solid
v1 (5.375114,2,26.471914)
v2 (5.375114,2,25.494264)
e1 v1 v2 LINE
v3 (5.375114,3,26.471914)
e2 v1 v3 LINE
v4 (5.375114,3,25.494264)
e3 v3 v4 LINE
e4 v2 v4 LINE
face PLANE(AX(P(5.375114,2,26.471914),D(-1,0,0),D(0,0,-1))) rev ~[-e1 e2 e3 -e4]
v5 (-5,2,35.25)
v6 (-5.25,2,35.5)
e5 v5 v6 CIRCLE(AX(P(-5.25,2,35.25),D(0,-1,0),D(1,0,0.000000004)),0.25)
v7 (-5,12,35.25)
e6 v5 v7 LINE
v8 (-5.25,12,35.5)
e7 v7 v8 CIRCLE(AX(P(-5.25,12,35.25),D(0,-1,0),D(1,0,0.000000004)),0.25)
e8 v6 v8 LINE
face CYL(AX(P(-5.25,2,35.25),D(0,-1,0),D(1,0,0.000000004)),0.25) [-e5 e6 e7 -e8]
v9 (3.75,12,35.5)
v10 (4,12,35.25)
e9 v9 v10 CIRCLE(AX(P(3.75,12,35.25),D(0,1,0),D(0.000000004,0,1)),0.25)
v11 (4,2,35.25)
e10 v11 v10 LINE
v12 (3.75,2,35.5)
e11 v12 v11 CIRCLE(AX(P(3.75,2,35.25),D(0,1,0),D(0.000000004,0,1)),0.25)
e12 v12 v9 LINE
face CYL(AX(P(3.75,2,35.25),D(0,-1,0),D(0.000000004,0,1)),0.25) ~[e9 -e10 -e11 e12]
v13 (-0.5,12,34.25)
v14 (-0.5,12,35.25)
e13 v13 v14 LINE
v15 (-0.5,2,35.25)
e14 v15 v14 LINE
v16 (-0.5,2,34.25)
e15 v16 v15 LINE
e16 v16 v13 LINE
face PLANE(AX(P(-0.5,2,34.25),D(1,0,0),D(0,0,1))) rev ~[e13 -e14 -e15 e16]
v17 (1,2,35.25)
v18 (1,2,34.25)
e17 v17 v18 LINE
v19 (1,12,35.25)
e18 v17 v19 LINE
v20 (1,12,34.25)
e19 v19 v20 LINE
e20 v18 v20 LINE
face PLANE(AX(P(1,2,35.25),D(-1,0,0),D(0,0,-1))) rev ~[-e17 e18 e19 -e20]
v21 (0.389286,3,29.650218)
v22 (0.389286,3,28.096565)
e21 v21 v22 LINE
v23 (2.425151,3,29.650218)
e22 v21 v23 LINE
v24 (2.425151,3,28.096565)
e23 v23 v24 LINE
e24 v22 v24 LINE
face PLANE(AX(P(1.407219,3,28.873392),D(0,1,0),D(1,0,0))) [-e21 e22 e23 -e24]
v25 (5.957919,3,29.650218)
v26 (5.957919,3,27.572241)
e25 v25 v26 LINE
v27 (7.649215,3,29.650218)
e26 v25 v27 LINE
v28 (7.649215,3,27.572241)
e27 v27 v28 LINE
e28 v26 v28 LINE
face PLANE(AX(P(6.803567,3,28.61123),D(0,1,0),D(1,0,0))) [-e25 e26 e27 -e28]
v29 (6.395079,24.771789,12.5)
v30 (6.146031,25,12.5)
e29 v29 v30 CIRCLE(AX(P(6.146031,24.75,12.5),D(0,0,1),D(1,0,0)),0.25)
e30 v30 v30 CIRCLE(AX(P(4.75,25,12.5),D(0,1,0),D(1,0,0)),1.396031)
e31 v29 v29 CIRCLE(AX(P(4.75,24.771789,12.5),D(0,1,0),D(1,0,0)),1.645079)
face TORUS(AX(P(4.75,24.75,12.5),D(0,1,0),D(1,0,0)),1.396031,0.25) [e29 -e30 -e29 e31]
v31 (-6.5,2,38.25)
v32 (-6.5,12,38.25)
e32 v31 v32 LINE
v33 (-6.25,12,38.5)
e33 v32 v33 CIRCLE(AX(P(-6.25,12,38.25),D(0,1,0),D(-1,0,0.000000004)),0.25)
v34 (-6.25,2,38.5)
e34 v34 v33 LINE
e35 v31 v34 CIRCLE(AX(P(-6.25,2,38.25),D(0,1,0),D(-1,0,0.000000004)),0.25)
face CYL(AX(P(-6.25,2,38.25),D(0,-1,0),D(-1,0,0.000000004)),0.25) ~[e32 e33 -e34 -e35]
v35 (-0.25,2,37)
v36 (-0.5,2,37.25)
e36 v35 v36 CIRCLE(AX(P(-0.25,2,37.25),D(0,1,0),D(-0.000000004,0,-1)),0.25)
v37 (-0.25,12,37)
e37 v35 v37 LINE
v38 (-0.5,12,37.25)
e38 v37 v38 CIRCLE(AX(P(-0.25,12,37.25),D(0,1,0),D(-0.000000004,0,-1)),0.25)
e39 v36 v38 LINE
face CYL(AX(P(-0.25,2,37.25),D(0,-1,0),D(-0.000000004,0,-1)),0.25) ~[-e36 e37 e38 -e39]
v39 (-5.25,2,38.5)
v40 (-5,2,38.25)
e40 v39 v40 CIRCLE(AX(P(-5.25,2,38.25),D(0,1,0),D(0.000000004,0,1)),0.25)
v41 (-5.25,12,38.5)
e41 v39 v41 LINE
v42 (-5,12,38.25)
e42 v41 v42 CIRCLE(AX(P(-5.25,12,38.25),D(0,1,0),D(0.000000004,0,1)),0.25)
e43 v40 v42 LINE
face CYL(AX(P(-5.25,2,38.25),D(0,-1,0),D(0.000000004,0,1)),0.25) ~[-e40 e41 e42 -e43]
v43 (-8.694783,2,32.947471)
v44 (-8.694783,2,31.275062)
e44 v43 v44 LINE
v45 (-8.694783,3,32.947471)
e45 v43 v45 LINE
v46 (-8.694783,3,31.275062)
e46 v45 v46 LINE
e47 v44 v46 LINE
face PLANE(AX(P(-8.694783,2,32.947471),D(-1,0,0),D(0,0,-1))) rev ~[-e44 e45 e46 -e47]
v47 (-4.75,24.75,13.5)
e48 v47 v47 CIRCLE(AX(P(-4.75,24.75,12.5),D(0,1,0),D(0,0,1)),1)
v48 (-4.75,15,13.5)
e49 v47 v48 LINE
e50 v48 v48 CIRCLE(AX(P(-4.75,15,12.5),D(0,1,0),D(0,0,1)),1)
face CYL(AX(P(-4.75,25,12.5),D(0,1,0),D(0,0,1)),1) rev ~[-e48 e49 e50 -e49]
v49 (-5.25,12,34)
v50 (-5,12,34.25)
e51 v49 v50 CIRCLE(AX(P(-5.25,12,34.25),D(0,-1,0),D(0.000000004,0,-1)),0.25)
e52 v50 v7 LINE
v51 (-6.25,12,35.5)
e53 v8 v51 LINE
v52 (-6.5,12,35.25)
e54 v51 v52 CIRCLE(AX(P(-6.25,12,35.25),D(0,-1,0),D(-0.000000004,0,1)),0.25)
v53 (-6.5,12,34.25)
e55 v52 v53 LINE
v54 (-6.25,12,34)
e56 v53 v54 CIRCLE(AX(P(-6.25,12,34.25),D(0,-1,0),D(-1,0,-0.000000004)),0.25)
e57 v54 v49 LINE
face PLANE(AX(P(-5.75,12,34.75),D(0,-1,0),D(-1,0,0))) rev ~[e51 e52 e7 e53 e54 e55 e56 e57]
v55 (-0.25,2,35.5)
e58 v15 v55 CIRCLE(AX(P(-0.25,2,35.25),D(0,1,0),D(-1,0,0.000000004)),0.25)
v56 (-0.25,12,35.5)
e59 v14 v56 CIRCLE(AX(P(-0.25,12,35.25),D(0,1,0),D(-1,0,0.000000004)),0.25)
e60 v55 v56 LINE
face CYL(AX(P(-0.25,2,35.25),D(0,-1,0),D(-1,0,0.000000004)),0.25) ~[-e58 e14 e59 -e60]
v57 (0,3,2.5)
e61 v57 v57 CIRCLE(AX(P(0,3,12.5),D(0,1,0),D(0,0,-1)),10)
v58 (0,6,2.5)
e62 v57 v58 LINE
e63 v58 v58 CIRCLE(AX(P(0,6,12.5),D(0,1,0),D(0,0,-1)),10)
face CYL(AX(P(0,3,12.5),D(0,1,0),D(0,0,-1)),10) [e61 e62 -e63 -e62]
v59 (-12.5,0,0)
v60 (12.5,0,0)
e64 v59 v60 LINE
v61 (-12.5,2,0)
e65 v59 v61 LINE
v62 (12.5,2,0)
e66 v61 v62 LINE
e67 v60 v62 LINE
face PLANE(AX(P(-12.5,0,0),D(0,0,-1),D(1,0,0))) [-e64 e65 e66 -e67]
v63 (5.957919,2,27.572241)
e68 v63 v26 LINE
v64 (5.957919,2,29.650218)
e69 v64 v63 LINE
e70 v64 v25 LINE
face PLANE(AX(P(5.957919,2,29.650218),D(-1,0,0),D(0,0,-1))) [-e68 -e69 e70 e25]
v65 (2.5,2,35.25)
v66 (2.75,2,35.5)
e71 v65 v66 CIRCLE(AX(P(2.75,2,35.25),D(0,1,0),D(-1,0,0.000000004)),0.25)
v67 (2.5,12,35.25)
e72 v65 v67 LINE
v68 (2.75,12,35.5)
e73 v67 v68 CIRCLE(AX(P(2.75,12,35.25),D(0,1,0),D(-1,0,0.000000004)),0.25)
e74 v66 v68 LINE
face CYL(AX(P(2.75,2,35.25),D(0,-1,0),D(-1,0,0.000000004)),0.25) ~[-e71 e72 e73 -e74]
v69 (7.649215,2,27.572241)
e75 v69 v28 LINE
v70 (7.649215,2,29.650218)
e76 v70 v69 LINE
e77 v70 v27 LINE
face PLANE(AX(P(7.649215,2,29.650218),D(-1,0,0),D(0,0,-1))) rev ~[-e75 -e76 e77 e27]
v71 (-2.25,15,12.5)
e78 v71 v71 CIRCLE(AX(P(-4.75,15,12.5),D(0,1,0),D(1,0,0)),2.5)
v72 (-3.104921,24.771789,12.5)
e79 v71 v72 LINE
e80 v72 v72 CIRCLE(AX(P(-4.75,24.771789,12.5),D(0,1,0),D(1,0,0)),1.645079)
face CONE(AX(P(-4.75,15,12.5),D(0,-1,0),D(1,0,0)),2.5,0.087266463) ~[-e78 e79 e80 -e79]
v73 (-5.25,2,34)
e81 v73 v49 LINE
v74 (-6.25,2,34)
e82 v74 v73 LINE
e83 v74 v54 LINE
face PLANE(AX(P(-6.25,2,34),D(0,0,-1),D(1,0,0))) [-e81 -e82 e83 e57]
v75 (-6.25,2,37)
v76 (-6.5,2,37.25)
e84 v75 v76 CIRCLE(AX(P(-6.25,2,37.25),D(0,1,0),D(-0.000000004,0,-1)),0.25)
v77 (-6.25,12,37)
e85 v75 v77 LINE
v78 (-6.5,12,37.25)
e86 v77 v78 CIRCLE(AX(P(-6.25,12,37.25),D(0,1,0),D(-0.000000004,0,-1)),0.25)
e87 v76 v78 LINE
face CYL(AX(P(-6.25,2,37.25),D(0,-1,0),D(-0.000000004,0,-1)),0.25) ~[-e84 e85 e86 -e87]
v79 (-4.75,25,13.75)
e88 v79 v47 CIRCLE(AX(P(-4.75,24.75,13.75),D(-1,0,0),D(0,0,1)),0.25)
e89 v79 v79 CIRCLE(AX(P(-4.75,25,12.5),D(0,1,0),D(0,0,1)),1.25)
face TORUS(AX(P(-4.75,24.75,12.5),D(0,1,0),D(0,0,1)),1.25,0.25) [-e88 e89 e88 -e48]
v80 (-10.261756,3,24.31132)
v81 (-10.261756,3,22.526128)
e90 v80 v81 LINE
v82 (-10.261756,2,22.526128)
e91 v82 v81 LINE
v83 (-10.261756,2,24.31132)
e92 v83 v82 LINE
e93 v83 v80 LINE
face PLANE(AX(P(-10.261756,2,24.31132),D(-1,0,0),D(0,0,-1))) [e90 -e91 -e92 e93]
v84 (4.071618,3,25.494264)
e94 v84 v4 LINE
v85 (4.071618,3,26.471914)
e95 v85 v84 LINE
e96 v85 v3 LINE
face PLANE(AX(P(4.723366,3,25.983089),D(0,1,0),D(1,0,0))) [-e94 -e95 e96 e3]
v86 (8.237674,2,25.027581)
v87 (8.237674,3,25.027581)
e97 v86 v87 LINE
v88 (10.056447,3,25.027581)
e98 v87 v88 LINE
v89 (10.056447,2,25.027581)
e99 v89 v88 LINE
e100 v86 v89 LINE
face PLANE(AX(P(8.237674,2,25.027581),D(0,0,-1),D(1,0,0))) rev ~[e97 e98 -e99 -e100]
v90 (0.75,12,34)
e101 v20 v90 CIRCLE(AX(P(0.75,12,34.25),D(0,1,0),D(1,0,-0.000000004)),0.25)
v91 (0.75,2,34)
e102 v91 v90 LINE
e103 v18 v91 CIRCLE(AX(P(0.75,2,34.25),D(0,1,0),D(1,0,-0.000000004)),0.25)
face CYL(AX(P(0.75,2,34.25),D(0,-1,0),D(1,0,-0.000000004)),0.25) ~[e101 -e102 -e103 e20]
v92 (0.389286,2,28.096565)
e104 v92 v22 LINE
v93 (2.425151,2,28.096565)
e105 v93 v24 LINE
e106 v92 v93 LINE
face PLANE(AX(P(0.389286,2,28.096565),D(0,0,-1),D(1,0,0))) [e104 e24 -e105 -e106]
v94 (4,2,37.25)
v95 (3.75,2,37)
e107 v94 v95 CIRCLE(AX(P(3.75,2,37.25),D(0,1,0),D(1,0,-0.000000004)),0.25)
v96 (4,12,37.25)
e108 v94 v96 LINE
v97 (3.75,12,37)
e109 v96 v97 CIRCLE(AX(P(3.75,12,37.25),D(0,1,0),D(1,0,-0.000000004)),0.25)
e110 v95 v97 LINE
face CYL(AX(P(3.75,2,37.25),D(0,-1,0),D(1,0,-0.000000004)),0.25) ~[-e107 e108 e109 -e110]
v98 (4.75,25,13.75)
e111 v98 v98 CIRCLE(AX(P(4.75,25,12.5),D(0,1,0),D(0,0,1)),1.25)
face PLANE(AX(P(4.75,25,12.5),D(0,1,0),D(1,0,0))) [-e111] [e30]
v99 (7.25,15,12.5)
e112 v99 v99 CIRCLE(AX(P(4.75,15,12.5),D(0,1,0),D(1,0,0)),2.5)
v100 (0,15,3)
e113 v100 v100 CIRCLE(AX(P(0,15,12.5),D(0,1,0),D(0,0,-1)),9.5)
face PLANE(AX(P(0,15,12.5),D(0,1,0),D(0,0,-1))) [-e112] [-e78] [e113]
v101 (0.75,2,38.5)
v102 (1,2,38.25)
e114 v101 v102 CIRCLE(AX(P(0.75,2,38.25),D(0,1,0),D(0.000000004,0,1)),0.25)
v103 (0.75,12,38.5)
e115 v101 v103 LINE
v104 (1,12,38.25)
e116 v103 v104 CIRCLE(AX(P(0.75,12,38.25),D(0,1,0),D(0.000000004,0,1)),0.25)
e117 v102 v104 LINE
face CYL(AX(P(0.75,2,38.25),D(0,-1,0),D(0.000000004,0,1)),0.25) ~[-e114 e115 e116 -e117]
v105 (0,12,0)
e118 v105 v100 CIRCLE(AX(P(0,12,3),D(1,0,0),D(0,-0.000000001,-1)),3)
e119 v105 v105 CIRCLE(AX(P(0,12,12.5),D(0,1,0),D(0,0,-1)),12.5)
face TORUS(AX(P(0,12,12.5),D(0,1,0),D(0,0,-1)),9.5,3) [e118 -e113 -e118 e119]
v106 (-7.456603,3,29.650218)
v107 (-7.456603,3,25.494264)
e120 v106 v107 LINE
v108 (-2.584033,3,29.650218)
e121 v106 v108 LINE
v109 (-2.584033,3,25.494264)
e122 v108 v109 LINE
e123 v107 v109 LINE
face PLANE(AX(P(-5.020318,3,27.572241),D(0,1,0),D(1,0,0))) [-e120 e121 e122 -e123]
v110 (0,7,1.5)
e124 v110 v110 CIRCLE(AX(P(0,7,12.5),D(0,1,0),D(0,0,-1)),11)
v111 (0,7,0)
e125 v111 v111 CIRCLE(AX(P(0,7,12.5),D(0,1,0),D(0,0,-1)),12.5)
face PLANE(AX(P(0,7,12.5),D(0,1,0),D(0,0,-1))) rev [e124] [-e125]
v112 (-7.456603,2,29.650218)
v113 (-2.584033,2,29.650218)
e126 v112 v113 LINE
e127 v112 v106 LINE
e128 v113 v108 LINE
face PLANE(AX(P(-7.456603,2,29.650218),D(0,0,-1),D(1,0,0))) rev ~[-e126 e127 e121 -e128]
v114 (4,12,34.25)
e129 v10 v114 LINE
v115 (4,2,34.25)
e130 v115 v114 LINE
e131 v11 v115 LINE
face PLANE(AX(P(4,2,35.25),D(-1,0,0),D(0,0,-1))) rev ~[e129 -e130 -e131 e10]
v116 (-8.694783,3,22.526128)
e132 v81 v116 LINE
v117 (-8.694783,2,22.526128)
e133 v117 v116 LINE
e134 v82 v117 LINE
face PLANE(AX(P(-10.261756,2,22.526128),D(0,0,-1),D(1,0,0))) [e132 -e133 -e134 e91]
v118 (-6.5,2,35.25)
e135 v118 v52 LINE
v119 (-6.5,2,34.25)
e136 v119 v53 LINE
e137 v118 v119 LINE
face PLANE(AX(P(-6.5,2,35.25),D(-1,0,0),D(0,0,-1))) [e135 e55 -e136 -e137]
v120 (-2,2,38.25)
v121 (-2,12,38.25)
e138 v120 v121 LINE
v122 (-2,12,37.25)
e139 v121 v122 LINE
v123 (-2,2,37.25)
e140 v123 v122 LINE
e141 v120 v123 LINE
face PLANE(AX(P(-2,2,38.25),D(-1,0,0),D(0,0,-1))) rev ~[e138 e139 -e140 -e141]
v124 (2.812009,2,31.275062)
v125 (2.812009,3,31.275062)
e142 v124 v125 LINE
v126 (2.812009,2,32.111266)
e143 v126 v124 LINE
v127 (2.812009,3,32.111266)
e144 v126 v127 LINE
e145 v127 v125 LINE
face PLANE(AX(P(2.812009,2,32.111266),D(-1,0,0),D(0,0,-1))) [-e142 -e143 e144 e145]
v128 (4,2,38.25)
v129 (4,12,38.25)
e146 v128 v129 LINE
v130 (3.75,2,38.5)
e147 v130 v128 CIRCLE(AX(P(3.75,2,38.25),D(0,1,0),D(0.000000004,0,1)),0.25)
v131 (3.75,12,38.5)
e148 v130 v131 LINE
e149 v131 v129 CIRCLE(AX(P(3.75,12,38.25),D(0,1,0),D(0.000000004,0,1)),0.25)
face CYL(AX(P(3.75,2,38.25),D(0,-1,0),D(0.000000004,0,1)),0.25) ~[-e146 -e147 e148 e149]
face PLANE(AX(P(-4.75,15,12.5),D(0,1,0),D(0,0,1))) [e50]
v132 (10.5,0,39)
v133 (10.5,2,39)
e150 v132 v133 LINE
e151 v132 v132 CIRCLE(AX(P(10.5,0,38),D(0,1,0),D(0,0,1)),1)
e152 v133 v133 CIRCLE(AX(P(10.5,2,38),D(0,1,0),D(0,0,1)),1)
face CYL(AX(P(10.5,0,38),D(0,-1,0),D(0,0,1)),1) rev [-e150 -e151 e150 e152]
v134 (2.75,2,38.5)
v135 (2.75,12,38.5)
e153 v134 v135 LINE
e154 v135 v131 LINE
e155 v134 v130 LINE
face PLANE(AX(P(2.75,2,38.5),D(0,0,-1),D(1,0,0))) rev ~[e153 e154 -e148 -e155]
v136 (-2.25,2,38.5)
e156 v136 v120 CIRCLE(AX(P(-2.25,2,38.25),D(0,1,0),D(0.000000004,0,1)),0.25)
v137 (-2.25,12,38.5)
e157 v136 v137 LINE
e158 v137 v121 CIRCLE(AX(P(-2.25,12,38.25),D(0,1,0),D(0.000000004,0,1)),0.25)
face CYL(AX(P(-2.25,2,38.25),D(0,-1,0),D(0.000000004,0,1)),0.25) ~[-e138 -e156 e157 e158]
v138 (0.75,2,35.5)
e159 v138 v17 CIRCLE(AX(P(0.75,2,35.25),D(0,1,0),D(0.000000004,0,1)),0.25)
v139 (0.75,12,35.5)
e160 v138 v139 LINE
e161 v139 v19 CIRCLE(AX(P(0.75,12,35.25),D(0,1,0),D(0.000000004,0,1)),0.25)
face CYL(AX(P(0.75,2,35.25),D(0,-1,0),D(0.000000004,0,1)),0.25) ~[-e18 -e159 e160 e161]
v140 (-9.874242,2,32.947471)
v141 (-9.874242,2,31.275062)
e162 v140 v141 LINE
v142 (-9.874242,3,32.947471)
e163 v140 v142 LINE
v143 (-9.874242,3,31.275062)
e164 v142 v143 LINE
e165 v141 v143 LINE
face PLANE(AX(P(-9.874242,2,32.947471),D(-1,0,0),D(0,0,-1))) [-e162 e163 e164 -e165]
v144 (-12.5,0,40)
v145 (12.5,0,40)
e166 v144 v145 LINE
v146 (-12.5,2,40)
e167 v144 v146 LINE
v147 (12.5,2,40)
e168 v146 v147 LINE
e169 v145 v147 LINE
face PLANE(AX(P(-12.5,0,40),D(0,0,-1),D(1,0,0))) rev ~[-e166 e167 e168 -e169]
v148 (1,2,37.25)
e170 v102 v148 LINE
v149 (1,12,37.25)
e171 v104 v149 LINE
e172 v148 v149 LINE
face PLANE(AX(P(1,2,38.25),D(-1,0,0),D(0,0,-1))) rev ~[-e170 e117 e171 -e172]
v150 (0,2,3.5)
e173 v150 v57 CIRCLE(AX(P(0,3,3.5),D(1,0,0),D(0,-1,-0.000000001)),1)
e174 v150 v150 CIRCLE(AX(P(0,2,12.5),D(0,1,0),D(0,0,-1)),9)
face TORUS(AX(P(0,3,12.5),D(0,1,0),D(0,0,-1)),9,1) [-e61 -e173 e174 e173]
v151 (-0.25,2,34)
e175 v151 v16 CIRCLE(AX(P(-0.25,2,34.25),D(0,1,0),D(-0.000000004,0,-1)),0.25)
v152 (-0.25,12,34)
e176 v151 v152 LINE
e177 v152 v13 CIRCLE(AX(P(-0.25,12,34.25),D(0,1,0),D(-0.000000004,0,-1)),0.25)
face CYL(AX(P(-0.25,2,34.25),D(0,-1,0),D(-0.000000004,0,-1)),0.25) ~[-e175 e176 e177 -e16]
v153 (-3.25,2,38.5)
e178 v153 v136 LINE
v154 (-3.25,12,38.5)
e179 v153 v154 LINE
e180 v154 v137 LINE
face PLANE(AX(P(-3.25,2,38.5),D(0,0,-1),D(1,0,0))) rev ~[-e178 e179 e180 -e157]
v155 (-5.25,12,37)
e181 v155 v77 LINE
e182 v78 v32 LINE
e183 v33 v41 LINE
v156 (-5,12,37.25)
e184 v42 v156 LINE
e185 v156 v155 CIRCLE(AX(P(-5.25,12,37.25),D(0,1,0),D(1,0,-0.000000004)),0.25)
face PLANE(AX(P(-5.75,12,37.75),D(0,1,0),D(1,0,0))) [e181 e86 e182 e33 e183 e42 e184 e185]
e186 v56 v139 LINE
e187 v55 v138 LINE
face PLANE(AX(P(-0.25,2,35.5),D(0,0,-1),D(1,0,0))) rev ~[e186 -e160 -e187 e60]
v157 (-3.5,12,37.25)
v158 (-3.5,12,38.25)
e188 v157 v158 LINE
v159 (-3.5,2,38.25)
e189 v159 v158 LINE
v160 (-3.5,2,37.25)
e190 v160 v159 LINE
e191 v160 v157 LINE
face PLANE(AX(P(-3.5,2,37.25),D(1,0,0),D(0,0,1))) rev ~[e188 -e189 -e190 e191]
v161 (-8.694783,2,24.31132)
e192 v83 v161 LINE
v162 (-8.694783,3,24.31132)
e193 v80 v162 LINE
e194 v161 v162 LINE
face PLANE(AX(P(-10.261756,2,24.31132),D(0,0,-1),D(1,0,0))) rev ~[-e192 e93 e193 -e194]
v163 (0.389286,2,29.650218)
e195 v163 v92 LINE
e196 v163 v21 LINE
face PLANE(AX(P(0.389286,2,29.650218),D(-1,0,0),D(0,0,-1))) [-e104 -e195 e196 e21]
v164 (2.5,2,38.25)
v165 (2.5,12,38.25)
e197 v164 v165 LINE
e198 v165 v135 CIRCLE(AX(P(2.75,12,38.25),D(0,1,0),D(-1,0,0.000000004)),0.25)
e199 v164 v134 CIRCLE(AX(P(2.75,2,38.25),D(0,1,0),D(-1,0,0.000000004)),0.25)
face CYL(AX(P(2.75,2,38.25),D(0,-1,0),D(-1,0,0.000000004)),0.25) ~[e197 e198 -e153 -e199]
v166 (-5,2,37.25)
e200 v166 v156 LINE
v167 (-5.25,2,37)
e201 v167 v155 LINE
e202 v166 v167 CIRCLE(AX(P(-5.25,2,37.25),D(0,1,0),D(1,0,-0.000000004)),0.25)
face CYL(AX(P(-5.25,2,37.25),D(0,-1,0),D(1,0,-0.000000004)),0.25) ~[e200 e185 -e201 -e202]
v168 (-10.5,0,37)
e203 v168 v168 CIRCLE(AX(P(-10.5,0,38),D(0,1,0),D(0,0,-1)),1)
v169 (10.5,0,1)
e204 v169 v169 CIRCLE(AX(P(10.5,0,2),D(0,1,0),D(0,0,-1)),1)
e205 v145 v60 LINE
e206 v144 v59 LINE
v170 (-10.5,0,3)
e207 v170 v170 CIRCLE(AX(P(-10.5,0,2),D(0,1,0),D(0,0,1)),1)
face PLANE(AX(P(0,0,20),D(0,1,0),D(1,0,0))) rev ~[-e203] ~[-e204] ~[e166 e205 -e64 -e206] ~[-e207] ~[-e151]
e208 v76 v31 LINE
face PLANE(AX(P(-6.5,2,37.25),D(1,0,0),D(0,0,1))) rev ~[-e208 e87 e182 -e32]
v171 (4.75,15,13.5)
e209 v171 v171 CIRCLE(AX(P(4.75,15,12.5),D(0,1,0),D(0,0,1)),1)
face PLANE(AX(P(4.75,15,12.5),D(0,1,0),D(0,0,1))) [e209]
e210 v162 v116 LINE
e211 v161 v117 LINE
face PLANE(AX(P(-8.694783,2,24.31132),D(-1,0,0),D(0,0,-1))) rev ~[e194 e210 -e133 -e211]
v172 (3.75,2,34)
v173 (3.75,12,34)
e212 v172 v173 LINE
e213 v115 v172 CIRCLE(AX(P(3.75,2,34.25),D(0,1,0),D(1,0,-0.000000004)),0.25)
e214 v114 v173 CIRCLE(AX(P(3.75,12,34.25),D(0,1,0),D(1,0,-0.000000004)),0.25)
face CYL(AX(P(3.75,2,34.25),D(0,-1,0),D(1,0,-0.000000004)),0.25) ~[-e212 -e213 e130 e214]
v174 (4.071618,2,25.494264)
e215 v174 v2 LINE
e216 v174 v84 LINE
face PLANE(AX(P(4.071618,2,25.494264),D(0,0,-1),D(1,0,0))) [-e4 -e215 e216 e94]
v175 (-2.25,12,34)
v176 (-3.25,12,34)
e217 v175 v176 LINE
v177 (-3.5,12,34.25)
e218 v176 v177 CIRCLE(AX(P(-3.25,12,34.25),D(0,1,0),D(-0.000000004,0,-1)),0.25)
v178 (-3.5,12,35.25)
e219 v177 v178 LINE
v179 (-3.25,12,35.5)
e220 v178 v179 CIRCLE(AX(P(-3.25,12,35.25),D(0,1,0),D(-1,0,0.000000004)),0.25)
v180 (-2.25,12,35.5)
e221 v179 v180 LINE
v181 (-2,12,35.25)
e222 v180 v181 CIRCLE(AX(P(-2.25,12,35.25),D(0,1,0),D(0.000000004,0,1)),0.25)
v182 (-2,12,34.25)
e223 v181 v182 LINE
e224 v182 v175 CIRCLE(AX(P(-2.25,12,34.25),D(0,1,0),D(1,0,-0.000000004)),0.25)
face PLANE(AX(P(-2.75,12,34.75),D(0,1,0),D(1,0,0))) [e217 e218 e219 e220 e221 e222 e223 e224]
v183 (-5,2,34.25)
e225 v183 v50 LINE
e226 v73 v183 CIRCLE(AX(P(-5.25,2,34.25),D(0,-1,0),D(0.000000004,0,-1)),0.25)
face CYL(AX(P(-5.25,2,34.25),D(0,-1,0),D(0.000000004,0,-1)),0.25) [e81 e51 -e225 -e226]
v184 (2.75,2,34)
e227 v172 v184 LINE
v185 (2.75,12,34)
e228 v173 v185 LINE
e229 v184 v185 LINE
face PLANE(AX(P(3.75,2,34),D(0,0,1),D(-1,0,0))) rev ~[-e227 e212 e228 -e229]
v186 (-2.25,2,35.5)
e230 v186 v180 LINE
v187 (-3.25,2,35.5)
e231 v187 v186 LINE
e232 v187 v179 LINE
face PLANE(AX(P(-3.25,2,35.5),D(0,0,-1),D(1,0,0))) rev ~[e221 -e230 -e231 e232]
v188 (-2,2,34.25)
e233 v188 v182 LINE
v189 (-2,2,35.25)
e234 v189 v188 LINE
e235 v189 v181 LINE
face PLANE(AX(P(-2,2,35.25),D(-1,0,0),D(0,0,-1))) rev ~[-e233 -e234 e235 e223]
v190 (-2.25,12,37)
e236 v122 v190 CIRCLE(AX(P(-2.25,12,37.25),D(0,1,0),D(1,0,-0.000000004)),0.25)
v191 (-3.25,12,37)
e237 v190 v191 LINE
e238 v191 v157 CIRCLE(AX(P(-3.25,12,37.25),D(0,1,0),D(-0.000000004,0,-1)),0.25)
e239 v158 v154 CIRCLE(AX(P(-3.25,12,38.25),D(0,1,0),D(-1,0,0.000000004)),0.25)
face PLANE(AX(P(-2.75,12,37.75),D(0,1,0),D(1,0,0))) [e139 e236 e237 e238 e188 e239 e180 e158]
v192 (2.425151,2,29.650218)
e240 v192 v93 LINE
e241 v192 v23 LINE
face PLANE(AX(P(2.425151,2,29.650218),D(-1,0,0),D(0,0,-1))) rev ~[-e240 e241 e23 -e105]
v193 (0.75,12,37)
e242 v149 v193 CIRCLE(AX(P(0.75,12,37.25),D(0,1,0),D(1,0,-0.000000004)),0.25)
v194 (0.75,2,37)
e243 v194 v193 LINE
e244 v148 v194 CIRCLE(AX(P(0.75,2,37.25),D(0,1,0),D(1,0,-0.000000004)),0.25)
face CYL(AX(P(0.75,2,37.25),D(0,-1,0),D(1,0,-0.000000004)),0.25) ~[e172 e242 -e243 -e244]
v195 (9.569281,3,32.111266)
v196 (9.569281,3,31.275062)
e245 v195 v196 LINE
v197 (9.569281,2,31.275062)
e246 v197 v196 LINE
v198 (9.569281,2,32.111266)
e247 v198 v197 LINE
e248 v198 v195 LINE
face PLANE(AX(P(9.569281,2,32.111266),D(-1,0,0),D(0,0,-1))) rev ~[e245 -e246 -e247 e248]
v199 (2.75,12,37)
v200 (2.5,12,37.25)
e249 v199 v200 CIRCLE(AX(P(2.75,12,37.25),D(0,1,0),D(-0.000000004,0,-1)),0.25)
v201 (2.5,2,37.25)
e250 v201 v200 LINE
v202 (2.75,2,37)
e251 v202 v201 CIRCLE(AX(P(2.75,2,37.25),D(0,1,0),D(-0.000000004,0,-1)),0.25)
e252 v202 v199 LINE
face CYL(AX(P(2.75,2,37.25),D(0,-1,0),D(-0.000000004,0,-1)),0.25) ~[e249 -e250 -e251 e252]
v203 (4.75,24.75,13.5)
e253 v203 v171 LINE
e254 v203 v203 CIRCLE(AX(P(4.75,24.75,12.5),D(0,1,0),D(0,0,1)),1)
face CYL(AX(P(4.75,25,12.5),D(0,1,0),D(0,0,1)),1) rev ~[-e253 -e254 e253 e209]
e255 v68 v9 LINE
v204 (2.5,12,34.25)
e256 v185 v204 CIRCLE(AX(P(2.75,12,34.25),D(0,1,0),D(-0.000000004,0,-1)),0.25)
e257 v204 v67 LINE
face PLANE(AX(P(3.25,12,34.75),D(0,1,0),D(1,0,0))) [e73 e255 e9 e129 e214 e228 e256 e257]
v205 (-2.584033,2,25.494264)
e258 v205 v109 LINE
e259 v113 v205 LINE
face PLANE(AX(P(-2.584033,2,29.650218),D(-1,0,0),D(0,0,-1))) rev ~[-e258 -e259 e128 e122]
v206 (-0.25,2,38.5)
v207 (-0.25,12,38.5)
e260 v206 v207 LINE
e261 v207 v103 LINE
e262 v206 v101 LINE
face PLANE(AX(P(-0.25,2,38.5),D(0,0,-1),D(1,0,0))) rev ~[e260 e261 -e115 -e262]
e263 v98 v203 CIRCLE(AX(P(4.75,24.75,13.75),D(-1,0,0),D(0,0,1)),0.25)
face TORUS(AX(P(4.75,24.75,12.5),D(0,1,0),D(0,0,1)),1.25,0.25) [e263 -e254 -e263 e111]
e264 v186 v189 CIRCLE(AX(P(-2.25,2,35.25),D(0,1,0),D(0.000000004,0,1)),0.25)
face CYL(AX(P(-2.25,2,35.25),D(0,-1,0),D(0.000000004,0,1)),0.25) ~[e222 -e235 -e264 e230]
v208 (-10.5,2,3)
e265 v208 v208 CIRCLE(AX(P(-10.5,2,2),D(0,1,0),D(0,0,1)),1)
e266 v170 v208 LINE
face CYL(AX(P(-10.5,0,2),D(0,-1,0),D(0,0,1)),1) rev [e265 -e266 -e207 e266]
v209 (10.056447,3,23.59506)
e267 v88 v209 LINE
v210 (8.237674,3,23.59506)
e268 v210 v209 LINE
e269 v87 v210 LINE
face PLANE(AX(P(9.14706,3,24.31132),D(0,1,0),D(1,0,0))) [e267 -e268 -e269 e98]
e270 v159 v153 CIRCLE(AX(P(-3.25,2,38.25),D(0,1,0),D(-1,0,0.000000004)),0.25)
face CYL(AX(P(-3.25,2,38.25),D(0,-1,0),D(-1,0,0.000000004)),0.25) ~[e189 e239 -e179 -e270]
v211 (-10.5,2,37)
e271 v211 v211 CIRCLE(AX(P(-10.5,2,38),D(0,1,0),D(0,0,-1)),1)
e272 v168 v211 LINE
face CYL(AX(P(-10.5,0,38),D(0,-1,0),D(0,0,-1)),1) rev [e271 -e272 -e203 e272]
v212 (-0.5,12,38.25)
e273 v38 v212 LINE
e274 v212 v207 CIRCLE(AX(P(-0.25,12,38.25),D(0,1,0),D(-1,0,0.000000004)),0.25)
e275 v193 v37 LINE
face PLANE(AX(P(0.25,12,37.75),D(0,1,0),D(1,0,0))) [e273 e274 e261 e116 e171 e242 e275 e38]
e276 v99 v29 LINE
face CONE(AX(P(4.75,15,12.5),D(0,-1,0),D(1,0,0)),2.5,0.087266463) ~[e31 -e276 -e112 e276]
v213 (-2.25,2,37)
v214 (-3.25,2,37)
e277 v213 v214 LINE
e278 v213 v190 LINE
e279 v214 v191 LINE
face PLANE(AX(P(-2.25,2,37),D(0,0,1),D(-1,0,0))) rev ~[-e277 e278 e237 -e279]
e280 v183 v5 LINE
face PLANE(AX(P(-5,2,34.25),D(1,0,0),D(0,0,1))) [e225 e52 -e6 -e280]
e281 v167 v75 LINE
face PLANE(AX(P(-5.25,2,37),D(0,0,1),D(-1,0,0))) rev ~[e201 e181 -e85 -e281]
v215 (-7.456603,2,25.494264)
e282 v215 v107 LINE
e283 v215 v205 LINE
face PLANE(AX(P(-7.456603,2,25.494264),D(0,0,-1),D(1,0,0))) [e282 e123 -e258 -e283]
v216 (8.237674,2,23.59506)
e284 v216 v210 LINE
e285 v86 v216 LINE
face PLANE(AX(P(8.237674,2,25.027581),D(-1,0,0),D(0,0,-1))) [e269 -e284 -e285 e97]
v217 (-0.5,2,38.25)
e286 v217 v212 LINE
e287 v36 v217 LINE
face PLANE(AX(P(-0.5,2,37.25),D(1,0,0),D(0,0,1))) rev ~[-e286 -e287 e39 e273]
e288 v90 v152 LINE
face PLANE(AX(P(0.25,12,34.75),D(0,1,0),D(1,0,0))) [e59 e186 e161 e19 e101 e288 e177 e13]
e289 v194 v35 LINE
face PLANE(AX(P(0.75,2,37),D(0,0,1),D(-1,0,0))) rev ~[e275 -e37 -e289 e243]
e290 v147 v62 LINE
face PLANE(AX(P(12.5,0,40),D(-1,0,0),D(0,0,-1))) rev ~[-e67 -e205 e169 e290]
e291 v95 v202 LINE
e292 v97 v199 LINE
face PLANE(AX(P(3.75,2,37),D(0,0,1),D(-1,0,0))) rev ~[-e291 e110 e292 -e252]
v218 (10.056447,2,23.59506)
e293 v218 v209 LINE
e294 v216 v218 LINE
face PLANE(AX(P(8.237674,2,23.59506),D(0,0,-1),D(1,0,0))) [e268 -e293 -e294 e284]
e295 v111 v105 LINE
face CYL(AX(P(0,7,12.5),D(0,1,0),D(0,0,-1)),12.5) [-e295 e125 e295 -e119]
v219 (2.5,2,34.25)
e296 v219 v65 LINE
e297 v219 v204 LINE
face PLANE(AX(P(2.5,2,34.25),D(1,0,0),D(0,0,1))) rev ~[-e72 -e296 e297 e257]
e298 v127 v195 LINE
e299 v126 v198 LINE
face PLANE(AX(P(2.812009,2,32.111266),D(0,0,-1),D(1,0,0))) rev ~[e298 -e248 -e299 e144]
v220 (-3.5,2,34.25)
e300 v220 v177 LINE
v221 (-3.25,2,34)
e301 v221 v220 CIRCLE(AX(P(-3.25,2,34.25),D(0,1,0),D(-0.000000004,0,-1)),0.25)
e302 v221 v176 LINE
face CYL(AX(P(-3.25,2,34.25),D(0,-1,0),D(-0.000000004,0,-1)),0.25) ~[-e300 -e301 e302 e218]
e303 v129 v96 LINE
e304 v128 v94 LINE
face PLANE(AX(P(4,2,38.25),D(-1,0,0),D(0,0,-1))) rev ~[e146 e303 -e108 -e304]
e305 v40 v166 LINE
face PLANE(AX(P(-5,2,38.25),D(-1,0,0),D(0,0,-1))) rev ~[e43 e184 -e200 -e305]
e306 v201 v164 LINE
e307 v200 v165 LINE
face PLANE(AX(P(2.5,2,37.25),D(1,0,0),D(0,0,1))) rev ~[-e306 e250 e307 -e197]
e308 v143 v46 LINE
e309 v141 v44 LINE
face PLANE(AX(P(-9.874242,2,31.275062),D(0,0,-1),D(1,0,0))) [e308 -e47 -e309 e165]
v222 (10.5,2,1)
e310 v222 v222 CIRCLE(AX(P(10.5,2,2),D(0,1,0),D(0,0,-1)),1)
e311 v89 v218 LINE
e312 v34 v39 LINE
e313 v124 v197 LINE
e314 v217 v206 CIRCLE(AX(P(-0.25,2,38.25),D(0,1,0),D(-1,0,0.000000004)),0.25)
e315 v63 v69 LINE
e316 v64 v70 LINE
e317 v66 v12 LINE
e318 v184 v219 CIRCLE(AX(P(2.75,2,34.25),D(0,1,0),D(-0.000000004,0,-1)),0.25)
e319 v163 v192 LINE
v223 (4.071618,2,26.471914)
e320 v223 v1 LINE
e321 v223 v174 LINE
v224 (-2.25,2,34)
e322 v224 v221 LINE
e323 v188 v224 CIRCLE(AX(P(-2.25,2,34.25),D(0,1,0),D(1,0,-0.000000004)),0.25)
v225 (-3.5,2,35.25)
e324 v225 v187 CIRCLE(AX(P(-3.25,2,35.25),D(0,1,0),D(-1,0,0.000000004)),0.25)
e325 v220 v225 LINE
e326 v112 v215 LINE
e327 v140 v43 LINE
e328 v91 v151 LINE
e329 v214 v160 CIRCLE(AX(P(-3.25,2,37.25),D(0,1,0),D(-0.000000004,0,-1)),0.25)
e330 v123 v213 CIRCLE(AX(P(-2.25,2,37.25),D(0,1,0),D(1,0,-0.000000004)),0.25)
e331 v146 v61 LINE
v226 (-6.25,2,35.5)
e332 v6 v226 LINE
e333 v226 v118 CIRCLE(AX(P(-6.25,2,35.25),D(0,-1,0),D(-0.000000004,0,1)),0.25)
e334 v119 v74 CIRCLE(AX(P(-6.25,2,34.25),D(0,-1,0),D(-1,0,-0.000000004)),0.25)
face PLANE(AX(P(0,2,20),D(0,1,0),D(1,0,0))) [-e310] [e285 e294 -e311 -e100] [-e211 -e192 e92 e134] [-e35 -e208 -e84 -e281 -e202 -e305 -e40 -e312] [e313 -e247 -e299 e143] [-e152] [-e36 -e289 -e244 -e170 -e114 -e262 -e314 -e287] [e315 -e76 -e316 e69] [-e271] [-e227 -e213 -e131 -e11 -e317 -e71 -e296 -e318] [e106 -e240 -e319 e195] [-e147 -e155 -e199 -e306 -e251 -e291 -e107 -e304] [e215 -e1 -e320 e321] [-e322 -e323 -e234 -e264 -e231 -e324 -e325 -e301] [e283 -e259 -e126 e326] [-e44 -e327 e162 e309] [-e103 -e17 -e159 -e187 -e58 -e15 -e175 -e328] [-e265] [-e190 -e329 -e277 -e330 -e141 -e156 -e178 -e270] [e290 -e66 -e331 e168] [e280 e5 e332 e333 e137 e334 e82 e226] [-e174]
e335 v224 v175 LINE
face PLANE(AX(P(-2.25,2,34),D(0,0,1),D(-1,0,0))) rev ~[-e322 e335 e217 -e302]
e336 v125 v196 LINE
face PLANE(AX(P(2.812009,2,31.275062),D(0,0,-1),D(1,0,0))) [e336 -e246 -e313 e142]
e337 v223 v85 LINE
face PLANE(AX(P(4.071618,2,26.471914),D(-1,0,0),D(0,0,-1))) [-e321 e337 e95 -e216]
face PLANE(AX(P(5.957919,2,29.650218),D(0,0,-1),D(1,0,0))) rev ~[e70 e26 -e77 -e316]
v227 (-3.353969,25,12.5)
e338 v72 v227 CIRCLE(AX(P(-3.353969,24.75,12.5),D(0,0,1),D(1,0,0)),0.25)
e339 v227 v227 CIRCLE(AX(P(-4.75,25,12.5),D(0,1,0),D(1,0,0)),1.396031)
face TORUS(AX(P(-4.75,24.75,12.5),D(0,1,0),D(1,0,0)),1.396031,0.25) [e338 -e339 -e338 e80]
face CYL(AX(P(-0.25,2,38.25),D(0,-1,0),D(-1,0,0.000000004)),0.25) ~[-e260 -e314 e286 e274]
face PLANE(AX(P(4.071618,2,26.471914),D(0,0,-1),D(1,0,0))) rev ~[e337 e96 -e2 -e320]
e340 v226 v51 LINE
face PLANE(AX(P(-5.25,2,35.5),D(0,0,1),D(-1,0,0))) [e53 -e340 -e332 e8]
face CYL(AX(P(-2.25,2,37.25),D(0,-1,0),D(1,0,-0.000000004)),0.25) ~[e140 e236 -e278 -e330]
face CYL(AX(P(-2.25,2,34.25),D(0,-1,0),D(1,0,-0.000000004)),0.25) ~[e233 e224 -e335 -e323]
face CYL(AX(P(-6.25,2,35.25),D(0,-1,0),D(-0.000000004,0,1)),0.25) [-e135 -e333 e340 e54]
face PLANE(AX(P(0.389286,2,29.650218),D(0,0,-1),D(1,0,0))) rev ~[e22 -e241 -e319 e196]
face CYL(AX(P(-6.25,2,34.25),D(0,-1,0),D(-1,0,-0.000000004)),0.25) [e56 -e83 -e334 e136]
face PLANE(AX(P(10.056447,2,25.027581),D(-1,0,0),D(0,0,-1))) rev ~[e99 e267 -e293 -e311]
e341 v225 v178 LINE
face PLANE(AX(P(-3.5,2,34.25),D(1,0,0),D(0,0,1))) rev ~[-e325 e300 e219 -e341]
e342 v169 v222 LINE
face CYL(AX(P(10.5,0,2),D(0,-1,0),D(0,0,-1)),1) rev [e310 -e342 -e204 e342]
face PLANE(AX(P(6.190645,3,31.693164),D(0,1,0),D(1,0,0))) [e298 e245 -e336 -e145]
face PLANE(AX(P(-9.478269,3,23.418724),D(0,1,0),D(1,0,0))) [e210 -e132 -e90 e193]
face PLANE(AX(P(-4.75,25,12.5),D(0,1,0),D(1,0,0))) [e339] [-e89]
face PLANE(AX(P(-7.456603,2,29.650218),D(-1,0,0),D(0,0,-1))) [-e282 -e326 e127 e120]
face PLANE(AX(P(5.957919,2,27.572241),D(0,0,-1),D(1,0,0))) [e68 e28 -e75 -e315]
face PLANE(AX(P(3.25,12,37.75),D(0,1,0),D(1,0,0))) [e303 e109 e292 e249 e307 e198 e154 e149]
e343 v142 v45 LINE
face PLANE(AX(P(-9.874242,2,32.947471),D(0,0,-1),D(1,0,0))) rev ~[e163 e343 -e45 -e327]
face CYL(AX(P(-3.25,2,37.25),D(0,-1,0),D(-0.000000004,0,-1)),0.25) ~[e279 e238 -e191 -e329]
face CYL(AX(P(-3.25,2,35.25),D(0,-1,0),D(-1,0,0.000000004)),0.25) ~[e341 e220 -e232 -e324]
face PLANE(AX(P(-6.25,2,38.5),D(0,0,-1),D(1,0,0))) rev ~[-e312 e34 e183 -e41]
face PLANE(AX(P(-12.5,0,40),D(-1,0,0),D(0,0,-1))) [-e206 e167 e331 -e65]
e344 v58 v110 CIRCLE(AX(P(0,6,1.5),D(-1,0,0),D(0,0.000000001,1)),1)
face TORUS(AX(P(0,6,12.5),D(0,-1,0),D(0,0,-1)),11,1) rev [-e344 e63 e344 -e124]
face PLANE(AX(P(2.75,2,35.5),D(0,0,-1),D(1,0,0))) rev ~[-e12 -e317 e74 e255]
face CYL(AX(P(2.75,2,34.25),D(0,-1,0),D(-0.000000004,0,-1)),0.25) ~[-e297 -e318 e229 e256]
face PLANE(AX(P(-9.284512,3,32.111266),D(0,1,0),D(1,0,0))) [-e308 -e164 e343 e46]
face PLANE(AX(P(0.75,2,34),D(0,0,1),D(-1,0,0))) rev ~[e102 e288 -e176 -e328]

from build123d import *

# Parameters (mm, degrees)
SKETCH1_W                     = 25
SKETCH1_H                     = 40
SKETCH1_R                     = 1
BOSS_EXTRUDE1_DEPTH           = 2
SKETCH4_R                     = 2.5
BOSS_EXTRUDE2_DEPTH           = 10
BOSS_EXTRUDE2_DRAFT           = 5
BOSS_EXTRUDE2_PROFILE_2_DEPTH = 10
BOSS_EXTRUDE2_PROFILE_2_DRAFT = 5
SKETCH5_R                     = 1
CUT_EXTRUDE1_DEPTH            = 10
FILLET1_R                     = 0.25
SKETCH6_W                     = 4.872569901
SKETCH6_H                     = 4.155954741
SKETCH6_W_2                   = 1.691295461
SKETCH6_H_2                   = 2.07797737
SKETCH6_W_3                   = 2.035864878
SKETCH6_H_3                   = 1.553653313
SKETCH6_W_4                   = 1.303496039
SKETCH6_H_4                   = 0.977650804
SKETCH6_W_5                   = 1.818772584
SKETCH6_H_5                   = 1.432521154
SKETCH6_W_6                   = 1.566973501
SKETCH6_H_6                   = 1.785192301
SKETCH6_W_7                   = 1.179459655
SKETCH6_H_7                   = 1.672408866
SKETCH6_W_8                   = 6.757272552
SKETCH6_H_8                   = 0.836204433
BOSS_EXTRUDE3_DEPTH           = 1
BOSS_EXTRUDE4_DEPTH           = 10


with BuildPart() as part:
    # Sketch1 → Boss-Extrude1 (new body)
    with BuildSketch(Plane(origin=(0, 0, 0), x_dir=(1, 0, 0), z_dir=(0, 1, 0))):
        with Locations((0, -20)):
            Rectangle(SKETCH1_W, SKETCH1_H)
        with Locations(Location((-10.5, -2, 0), (0, 0, 270))):
            Circle(SKETCH1_R, mode=Mode.SUBTRACT)
        with Locations(Location((10.5, -2, 0), (0, 0, 90))):
            Circle(SKETCH1_R, mode=Mode.SUBTRACT)
        with Locations(Location((10.5, -38, 0), (0, 0, 270))):
            Circle(SKETCH1_R, mode=Mode.SUBTRACT)
        with Locations(Location((-10.5, -38, 0), (0, 0, 90))):
            Circle(SKETCH1_R, mode=Mode.SUBTRACT)
    extrude(amount=BOSS_EXTRUDE1_DEPTH)

    # Sketch3 → Revolve1 (revolve)
    with BuildSketch(Plane(origin=(0, 0, 0), x_dir=(0, 0, -1), z_dir=(1, 0, 0))):
        with BuildLine():
            Line((-12.5, 2), (-3.5, 2))
            ThreePointArc((-3.5, 2), (-2.792893219, 2.292893219), (-2.5, 3))
            Line((-2.5, 3), (-2.5, 6))
            ThreePointArc((-2.5, 6), (-2.207106781, 6.707106781), (-1.5, 7))
            Line((-1.5, 7), (0, 7))
            Line((0, 7), (0, 12))
            ThreePointArc((0, 12), (-0.878679656, 14.121320344), (-3, 15))
            Line((-3, 15), (-12.5, 15))
            Line((-12.5, 15), (-12.5, 2))
        make_face()
    revolve(axis=Axis((0, -8.567405093, 12.5), (0, 1, 0)))


with BuildPart() as boss_extrude2_tool:
    # Sketch4 → Boss-Extrude2 (with draft: the straight prism first)
    with BuildSketch(Plane(origin=(0, 15, 0), x_dir=(1, 0, 0), z_dir=(0, 1, 0))):
        with Locations((4.75, -12.5)):
            Circle(SKETCH4_R)
    extrude(amount=BOSS_EXTRUDE2_DEPTH)
    # Boss-Extrude2: the draft: its side faces are tilted about the plane it starts from
    boss_extrude2_sides = [boss_extrude2_tool.faces().sort_by_distance(p)[0] for p in [
        (2.25, 20, 12.5),
    ]]
    draft(boss_extrude2_sides, Plane(origin=(0, 15, 0), x_dir=(1, 0, 0), z_dir=(0, 1, 0)), BOSS_EXTRUDE2_DRAFT)


with BuildPart() as part_1:
    add(part.part)

    # Boss-Extrude2: add boss_extrude2_tool
    add(boss_extrude2_tool.part)


with BuildPart() as boss_extrude2_profile_2_tool:
    # Sketch4 → Boss-Extrude2 profile 2 (with draft: the straight prism first)
    with BuildSketch(Plane(origin=(0, 15, 0), x_dir=(1, 0, 0), z_dir=(0, 1, 0))):
        with Locations((-4.75, -12.5)):
            Circle(SKETCH4_R)
    extrude(amount=BOSS_EXTRUDE2_PROFILE_2_DEPTH)
    # Boss-Extrude2 profile 2: the draft: its side faces are tilted about the plane it starts from
    boss_extrude2_profile_2_sides = [boss_extrude2_profile_2_tool.faces().sort_by_distance(p)[0] for p in [
        (-7.25, 20, 12.5),
    ]]
    draft(boss_extrude2_profile_2_sides, Plane(origin=(0, 15, 0), x_dir=(1, 0, 0), z_dir=(0, 1, 0)), BOSS_EXTRUDE2_PROFILE_2_DRAFT)


with BuildPart() as part_2:
    add(part_1.part)

    # Boss-Extrude2 profile 2: add boss_extrude2_profile_2_tool
    add(boss_extrude2_profile_2_tool.part)

    # Sketch5 → Cut-Extrude1 (cut)
    with BuildSketch(Plane(origin=(0, 25, 0), x_dir=(1, 0, 0), z_dir=(0, 1, 0))):
        with Locations(Location((-4.75, -12.5, 0), (0, 0, 270))):
            Circle(SKETCH5_R)
        with Locations(Location((4.75, -12.5, 0), (0, 0, 270))):
            Circle(SKETCH5_R)
    extrude(amount=-CUT_EXTRUDE1_DEPTH, mode=Mode.SUBTRACT)

    # Fillet1
    fillet1_edges = [part_2.edges().sort_by_distance(p)[0] for p in [
        (3.124886635, 25, 12.5),
        (-6.375113365, 25, 12.5),
        (-4.75, 25, 11.5),
        (4.75, 25, 11.5),
    ]]
    fillet(fillet1_edges, radius=FILLET1_R)

    # Sketch6 → Boss-Extrude3 (add)
    with BuildSketch(Plane(origin=(0, 2, 0), x_dir=(1, 0, 0), z_dir=(0, 1, 0))):
        with Locations((-5.020317753, -27.572240941)):
            Rectangle(SKETCH6_W, SKETCH6_H)
        with Locations((6.803567201, -28.611229626)):
            Rectangle(SKETCH6_W_2, SKETCH6_H_2)
        with Locations((1.407218924, -28.873391655)):
            Rectangle(SKETCH6_W_3, SKETCH6_H_3)
        with Locations((4.723365873, -25.983088972)):
            Rectangle(SKETCH6_W_4, SKETCH6_H_4)
        with Locations((9.147060432, -24.311320158)):
            Rectangle(SKETCH6_W_5, SKETCH6_H_5)
        with Locations((-9.47826935, -23.418724008)):
            Rectangle(SKETCH6_W_6, SKETCH6_H_6)
        with Locations((-9.284512428, -32.111266319)):
            Rectangle(SKETCH6_W_7, SKETCH6_H_7)
        with Locations((6.19064479, -31.693164103)):
            Rectangle(SKETCH6_W_8, SKETCH6_H_8)
    extrude(amount=BOSS_EXTRUDE3_DEPTH)

    # Sketch7 → Boss-Extrude4 (add)
    with BuildSketch(Plane(origin=(0, 2, 0), x_dir=(1, 0, 0), z_dir=(0, 1, 0))):
        with BuildLine():
            Line((-6.25, -34), (-5.25, -34))
            ThreePointArc((-5.25, -34), (-5.073223305, -34.073223305), (-5, -34.25))
            Line((-5, -34.25), (-5, -35.25))
            ThreePointArc((-5, -35.25), (-5.073223305, -35.426776695), (-5.25, -35.5))
            Line((-5.25, -35.5), (-6.25, -35.5))
            ThreePointArc((-6.25, -35.5), (-6.426776695, -35.426776695), (-6.5, -35.25))
            Line((-6.5, -35.25), (-6.5, -34.25))
            ThreePointArc((-6.5, -34.25), (-6.426776695, -34.073223305), (-6.25, -34))
        make_face()
        with BuildLine():
            Line((-3.5, -34.25), (-3.5, -35.25))
            ThreePointArc((-3.5, -35.25), (-3.426776695, -35.426776695), (-3.25, -35.5))
            Line((-3.25, -35.5), (-2.25, -35.5))
            ThreePointArc((-2.25, -35.5), (-2.073223305, -35.426776695), (-2, -35.25))
            Line((-2, -35.25), (-2, -34.25))
            ThreePointArc((-2, -34.25), (-2.073223305, -34.073223305), (-2.25, -34))
            Line((-2.25, -34), (-3.25, -34))
            ThreePointArc((-3.25, -34), (-3.426776695, -34.073223305), (-3.5, -34.25))
        make_face()
        with BuildLine():
            Line((-0.5, -34.25), (-0.5, -35.25))
            ThreePointArc((-0.5, -35.25), (-0.426776695, -35.426776695), (-0.25, -35.5))
            Line((-0.25, -35.5), (0.75, -35.5))
            ThreePointArc((0.75, -35.5), (0.926776695, -35.426776695), (1, -35.25))
            Line((1, -35.25), (1, -34.25))
            ThreePointArc((1, -34.25), (0.926776695, -34.073223305), (0.75, -34))
            Line((0.75, -34), (-0.25, -34))
            ThreePointArc((-0.25, -34), (-0.426776695, -34.073223305), (-0.5, -34.25))
        make_face()
        with BuildLine():
            Line((2.5, -34.25), (2.5, -35.25))
            ThreePointArc((2.5, -35.25), (2.573223305, -35.426776695), (2.75, -35.5))
            Line((2.75, -35.5), (3.75, -35.5))
            ThreePointArc((3.75, -35.5), (3.926776695, -35.426776695), (4, -35.25))
            Line((4, -35.25), (4, -34.25))
            ThreePointArc((4, -34.25), (3.926776695, -34.073223305), (3.75, -34))
            Line((3.75, -34), (2.75, -34))
            ThreePointArc((2.75, -34), (2.573223305, -34.073223305), (2.5, -34.25))
        make_face()
        with BuildLine():
            Line((-3.5, -37.25), (-3.5, -38.25))
            ThreePointArc((-3.5, -38.25), (-3.426776695, -38.426776695), (-3.25, -38.5))
            Line((-3.25, -38.5), (-2.25, -38.5))
            ThreePointArc((-2.25, -38.5), (-2.073223305, -38.426776695), (-2, -38.25))
            Line((-2, -38.25), (-2, -37.25))
            ThreePointArc((-2, -37.25), (-2.073223305, -37.073223305), (-2.25, -37))
            Line((-2.25, -37), (-3.25, -37))
            ThreePointArc((-3.25, -37), (-3.426776695, -37.073223305), (-3.5, -37.25))
        make_face()
        with BuildLine():
            Line((-0.5, -37.25), (-0.5, -38.25))
            ThreePointArc((-0.5, -38.25), (-0.426776695, -38.426776695), (-0.25, -38.5))
            Line((-0.25, -38.5), (0.75, -38.5))
            ThreePointArc((0.75, -38.5), (0.926776695, -38.426776695), (1, -38.25))
            Line((1, -38.25), (1, -37.25))
            ThreePointArc((1, -37.25), (0.926776695, -37.073223305), (0.75, -37))
            Line((0.75, -37), (-0.25, -37))
            ThreePointArc((-0.25, -37), (-0.426776695, -37.073223305), (-0.5, -37.25))
        make_face()
        with BuildLine():
            Line((2.5, -37.25), (2.5, -38.25))
            ThreePointArc((2.5, -38.25), (2.573223305, -38.426776695), (2.75, -38.5))
            Line((2.75, -38.5), (3.75, -38.5))
            ThreePointArc((3.75, -38.5), (3.926776695, -38.426776695), (4, -38.25))
            Line((4, -38.25), (4, -37.25))
            ThreePointArc((4, -37.25), (3.926776695, -37.073223305), (3.75, -37))
            Line((3.75, -37), (2.75, -37))
            ThreePointArc((2.75, -37), (2.573223305, -37.073223305), (2.5, -37.25))
        make_face()
        with BuildLine():
            Line((-6.5, -37.25), (-6.5, -38.25))
            ThreePointArc((-6.5, -38.25), (-6.426776695, -38.426776695), (-6.25, -38.5))
            Line((-6.25, -38.5), (-5.25, -38.5))
            ThreePointArc((-5.25, -38.5), (-5.073223305, -38.426776695), (-5, -38.25))
            Line((-5, -38.25), (-5, -37.25))
            ThreePointArc((-5, -37.25), (-5.073223305, -37.073223305), (-5.25, -37))
            Line((-5.25, -37), (-6.25, -37))
            ThreePointArc((-6.25, -37), (-6.426776695, -37.073223305), (-6.5, -37.25))
        make_face()
    extrude(amount=BOSS_EXTRUDE4_DEPTH)


solid = part_2.part
